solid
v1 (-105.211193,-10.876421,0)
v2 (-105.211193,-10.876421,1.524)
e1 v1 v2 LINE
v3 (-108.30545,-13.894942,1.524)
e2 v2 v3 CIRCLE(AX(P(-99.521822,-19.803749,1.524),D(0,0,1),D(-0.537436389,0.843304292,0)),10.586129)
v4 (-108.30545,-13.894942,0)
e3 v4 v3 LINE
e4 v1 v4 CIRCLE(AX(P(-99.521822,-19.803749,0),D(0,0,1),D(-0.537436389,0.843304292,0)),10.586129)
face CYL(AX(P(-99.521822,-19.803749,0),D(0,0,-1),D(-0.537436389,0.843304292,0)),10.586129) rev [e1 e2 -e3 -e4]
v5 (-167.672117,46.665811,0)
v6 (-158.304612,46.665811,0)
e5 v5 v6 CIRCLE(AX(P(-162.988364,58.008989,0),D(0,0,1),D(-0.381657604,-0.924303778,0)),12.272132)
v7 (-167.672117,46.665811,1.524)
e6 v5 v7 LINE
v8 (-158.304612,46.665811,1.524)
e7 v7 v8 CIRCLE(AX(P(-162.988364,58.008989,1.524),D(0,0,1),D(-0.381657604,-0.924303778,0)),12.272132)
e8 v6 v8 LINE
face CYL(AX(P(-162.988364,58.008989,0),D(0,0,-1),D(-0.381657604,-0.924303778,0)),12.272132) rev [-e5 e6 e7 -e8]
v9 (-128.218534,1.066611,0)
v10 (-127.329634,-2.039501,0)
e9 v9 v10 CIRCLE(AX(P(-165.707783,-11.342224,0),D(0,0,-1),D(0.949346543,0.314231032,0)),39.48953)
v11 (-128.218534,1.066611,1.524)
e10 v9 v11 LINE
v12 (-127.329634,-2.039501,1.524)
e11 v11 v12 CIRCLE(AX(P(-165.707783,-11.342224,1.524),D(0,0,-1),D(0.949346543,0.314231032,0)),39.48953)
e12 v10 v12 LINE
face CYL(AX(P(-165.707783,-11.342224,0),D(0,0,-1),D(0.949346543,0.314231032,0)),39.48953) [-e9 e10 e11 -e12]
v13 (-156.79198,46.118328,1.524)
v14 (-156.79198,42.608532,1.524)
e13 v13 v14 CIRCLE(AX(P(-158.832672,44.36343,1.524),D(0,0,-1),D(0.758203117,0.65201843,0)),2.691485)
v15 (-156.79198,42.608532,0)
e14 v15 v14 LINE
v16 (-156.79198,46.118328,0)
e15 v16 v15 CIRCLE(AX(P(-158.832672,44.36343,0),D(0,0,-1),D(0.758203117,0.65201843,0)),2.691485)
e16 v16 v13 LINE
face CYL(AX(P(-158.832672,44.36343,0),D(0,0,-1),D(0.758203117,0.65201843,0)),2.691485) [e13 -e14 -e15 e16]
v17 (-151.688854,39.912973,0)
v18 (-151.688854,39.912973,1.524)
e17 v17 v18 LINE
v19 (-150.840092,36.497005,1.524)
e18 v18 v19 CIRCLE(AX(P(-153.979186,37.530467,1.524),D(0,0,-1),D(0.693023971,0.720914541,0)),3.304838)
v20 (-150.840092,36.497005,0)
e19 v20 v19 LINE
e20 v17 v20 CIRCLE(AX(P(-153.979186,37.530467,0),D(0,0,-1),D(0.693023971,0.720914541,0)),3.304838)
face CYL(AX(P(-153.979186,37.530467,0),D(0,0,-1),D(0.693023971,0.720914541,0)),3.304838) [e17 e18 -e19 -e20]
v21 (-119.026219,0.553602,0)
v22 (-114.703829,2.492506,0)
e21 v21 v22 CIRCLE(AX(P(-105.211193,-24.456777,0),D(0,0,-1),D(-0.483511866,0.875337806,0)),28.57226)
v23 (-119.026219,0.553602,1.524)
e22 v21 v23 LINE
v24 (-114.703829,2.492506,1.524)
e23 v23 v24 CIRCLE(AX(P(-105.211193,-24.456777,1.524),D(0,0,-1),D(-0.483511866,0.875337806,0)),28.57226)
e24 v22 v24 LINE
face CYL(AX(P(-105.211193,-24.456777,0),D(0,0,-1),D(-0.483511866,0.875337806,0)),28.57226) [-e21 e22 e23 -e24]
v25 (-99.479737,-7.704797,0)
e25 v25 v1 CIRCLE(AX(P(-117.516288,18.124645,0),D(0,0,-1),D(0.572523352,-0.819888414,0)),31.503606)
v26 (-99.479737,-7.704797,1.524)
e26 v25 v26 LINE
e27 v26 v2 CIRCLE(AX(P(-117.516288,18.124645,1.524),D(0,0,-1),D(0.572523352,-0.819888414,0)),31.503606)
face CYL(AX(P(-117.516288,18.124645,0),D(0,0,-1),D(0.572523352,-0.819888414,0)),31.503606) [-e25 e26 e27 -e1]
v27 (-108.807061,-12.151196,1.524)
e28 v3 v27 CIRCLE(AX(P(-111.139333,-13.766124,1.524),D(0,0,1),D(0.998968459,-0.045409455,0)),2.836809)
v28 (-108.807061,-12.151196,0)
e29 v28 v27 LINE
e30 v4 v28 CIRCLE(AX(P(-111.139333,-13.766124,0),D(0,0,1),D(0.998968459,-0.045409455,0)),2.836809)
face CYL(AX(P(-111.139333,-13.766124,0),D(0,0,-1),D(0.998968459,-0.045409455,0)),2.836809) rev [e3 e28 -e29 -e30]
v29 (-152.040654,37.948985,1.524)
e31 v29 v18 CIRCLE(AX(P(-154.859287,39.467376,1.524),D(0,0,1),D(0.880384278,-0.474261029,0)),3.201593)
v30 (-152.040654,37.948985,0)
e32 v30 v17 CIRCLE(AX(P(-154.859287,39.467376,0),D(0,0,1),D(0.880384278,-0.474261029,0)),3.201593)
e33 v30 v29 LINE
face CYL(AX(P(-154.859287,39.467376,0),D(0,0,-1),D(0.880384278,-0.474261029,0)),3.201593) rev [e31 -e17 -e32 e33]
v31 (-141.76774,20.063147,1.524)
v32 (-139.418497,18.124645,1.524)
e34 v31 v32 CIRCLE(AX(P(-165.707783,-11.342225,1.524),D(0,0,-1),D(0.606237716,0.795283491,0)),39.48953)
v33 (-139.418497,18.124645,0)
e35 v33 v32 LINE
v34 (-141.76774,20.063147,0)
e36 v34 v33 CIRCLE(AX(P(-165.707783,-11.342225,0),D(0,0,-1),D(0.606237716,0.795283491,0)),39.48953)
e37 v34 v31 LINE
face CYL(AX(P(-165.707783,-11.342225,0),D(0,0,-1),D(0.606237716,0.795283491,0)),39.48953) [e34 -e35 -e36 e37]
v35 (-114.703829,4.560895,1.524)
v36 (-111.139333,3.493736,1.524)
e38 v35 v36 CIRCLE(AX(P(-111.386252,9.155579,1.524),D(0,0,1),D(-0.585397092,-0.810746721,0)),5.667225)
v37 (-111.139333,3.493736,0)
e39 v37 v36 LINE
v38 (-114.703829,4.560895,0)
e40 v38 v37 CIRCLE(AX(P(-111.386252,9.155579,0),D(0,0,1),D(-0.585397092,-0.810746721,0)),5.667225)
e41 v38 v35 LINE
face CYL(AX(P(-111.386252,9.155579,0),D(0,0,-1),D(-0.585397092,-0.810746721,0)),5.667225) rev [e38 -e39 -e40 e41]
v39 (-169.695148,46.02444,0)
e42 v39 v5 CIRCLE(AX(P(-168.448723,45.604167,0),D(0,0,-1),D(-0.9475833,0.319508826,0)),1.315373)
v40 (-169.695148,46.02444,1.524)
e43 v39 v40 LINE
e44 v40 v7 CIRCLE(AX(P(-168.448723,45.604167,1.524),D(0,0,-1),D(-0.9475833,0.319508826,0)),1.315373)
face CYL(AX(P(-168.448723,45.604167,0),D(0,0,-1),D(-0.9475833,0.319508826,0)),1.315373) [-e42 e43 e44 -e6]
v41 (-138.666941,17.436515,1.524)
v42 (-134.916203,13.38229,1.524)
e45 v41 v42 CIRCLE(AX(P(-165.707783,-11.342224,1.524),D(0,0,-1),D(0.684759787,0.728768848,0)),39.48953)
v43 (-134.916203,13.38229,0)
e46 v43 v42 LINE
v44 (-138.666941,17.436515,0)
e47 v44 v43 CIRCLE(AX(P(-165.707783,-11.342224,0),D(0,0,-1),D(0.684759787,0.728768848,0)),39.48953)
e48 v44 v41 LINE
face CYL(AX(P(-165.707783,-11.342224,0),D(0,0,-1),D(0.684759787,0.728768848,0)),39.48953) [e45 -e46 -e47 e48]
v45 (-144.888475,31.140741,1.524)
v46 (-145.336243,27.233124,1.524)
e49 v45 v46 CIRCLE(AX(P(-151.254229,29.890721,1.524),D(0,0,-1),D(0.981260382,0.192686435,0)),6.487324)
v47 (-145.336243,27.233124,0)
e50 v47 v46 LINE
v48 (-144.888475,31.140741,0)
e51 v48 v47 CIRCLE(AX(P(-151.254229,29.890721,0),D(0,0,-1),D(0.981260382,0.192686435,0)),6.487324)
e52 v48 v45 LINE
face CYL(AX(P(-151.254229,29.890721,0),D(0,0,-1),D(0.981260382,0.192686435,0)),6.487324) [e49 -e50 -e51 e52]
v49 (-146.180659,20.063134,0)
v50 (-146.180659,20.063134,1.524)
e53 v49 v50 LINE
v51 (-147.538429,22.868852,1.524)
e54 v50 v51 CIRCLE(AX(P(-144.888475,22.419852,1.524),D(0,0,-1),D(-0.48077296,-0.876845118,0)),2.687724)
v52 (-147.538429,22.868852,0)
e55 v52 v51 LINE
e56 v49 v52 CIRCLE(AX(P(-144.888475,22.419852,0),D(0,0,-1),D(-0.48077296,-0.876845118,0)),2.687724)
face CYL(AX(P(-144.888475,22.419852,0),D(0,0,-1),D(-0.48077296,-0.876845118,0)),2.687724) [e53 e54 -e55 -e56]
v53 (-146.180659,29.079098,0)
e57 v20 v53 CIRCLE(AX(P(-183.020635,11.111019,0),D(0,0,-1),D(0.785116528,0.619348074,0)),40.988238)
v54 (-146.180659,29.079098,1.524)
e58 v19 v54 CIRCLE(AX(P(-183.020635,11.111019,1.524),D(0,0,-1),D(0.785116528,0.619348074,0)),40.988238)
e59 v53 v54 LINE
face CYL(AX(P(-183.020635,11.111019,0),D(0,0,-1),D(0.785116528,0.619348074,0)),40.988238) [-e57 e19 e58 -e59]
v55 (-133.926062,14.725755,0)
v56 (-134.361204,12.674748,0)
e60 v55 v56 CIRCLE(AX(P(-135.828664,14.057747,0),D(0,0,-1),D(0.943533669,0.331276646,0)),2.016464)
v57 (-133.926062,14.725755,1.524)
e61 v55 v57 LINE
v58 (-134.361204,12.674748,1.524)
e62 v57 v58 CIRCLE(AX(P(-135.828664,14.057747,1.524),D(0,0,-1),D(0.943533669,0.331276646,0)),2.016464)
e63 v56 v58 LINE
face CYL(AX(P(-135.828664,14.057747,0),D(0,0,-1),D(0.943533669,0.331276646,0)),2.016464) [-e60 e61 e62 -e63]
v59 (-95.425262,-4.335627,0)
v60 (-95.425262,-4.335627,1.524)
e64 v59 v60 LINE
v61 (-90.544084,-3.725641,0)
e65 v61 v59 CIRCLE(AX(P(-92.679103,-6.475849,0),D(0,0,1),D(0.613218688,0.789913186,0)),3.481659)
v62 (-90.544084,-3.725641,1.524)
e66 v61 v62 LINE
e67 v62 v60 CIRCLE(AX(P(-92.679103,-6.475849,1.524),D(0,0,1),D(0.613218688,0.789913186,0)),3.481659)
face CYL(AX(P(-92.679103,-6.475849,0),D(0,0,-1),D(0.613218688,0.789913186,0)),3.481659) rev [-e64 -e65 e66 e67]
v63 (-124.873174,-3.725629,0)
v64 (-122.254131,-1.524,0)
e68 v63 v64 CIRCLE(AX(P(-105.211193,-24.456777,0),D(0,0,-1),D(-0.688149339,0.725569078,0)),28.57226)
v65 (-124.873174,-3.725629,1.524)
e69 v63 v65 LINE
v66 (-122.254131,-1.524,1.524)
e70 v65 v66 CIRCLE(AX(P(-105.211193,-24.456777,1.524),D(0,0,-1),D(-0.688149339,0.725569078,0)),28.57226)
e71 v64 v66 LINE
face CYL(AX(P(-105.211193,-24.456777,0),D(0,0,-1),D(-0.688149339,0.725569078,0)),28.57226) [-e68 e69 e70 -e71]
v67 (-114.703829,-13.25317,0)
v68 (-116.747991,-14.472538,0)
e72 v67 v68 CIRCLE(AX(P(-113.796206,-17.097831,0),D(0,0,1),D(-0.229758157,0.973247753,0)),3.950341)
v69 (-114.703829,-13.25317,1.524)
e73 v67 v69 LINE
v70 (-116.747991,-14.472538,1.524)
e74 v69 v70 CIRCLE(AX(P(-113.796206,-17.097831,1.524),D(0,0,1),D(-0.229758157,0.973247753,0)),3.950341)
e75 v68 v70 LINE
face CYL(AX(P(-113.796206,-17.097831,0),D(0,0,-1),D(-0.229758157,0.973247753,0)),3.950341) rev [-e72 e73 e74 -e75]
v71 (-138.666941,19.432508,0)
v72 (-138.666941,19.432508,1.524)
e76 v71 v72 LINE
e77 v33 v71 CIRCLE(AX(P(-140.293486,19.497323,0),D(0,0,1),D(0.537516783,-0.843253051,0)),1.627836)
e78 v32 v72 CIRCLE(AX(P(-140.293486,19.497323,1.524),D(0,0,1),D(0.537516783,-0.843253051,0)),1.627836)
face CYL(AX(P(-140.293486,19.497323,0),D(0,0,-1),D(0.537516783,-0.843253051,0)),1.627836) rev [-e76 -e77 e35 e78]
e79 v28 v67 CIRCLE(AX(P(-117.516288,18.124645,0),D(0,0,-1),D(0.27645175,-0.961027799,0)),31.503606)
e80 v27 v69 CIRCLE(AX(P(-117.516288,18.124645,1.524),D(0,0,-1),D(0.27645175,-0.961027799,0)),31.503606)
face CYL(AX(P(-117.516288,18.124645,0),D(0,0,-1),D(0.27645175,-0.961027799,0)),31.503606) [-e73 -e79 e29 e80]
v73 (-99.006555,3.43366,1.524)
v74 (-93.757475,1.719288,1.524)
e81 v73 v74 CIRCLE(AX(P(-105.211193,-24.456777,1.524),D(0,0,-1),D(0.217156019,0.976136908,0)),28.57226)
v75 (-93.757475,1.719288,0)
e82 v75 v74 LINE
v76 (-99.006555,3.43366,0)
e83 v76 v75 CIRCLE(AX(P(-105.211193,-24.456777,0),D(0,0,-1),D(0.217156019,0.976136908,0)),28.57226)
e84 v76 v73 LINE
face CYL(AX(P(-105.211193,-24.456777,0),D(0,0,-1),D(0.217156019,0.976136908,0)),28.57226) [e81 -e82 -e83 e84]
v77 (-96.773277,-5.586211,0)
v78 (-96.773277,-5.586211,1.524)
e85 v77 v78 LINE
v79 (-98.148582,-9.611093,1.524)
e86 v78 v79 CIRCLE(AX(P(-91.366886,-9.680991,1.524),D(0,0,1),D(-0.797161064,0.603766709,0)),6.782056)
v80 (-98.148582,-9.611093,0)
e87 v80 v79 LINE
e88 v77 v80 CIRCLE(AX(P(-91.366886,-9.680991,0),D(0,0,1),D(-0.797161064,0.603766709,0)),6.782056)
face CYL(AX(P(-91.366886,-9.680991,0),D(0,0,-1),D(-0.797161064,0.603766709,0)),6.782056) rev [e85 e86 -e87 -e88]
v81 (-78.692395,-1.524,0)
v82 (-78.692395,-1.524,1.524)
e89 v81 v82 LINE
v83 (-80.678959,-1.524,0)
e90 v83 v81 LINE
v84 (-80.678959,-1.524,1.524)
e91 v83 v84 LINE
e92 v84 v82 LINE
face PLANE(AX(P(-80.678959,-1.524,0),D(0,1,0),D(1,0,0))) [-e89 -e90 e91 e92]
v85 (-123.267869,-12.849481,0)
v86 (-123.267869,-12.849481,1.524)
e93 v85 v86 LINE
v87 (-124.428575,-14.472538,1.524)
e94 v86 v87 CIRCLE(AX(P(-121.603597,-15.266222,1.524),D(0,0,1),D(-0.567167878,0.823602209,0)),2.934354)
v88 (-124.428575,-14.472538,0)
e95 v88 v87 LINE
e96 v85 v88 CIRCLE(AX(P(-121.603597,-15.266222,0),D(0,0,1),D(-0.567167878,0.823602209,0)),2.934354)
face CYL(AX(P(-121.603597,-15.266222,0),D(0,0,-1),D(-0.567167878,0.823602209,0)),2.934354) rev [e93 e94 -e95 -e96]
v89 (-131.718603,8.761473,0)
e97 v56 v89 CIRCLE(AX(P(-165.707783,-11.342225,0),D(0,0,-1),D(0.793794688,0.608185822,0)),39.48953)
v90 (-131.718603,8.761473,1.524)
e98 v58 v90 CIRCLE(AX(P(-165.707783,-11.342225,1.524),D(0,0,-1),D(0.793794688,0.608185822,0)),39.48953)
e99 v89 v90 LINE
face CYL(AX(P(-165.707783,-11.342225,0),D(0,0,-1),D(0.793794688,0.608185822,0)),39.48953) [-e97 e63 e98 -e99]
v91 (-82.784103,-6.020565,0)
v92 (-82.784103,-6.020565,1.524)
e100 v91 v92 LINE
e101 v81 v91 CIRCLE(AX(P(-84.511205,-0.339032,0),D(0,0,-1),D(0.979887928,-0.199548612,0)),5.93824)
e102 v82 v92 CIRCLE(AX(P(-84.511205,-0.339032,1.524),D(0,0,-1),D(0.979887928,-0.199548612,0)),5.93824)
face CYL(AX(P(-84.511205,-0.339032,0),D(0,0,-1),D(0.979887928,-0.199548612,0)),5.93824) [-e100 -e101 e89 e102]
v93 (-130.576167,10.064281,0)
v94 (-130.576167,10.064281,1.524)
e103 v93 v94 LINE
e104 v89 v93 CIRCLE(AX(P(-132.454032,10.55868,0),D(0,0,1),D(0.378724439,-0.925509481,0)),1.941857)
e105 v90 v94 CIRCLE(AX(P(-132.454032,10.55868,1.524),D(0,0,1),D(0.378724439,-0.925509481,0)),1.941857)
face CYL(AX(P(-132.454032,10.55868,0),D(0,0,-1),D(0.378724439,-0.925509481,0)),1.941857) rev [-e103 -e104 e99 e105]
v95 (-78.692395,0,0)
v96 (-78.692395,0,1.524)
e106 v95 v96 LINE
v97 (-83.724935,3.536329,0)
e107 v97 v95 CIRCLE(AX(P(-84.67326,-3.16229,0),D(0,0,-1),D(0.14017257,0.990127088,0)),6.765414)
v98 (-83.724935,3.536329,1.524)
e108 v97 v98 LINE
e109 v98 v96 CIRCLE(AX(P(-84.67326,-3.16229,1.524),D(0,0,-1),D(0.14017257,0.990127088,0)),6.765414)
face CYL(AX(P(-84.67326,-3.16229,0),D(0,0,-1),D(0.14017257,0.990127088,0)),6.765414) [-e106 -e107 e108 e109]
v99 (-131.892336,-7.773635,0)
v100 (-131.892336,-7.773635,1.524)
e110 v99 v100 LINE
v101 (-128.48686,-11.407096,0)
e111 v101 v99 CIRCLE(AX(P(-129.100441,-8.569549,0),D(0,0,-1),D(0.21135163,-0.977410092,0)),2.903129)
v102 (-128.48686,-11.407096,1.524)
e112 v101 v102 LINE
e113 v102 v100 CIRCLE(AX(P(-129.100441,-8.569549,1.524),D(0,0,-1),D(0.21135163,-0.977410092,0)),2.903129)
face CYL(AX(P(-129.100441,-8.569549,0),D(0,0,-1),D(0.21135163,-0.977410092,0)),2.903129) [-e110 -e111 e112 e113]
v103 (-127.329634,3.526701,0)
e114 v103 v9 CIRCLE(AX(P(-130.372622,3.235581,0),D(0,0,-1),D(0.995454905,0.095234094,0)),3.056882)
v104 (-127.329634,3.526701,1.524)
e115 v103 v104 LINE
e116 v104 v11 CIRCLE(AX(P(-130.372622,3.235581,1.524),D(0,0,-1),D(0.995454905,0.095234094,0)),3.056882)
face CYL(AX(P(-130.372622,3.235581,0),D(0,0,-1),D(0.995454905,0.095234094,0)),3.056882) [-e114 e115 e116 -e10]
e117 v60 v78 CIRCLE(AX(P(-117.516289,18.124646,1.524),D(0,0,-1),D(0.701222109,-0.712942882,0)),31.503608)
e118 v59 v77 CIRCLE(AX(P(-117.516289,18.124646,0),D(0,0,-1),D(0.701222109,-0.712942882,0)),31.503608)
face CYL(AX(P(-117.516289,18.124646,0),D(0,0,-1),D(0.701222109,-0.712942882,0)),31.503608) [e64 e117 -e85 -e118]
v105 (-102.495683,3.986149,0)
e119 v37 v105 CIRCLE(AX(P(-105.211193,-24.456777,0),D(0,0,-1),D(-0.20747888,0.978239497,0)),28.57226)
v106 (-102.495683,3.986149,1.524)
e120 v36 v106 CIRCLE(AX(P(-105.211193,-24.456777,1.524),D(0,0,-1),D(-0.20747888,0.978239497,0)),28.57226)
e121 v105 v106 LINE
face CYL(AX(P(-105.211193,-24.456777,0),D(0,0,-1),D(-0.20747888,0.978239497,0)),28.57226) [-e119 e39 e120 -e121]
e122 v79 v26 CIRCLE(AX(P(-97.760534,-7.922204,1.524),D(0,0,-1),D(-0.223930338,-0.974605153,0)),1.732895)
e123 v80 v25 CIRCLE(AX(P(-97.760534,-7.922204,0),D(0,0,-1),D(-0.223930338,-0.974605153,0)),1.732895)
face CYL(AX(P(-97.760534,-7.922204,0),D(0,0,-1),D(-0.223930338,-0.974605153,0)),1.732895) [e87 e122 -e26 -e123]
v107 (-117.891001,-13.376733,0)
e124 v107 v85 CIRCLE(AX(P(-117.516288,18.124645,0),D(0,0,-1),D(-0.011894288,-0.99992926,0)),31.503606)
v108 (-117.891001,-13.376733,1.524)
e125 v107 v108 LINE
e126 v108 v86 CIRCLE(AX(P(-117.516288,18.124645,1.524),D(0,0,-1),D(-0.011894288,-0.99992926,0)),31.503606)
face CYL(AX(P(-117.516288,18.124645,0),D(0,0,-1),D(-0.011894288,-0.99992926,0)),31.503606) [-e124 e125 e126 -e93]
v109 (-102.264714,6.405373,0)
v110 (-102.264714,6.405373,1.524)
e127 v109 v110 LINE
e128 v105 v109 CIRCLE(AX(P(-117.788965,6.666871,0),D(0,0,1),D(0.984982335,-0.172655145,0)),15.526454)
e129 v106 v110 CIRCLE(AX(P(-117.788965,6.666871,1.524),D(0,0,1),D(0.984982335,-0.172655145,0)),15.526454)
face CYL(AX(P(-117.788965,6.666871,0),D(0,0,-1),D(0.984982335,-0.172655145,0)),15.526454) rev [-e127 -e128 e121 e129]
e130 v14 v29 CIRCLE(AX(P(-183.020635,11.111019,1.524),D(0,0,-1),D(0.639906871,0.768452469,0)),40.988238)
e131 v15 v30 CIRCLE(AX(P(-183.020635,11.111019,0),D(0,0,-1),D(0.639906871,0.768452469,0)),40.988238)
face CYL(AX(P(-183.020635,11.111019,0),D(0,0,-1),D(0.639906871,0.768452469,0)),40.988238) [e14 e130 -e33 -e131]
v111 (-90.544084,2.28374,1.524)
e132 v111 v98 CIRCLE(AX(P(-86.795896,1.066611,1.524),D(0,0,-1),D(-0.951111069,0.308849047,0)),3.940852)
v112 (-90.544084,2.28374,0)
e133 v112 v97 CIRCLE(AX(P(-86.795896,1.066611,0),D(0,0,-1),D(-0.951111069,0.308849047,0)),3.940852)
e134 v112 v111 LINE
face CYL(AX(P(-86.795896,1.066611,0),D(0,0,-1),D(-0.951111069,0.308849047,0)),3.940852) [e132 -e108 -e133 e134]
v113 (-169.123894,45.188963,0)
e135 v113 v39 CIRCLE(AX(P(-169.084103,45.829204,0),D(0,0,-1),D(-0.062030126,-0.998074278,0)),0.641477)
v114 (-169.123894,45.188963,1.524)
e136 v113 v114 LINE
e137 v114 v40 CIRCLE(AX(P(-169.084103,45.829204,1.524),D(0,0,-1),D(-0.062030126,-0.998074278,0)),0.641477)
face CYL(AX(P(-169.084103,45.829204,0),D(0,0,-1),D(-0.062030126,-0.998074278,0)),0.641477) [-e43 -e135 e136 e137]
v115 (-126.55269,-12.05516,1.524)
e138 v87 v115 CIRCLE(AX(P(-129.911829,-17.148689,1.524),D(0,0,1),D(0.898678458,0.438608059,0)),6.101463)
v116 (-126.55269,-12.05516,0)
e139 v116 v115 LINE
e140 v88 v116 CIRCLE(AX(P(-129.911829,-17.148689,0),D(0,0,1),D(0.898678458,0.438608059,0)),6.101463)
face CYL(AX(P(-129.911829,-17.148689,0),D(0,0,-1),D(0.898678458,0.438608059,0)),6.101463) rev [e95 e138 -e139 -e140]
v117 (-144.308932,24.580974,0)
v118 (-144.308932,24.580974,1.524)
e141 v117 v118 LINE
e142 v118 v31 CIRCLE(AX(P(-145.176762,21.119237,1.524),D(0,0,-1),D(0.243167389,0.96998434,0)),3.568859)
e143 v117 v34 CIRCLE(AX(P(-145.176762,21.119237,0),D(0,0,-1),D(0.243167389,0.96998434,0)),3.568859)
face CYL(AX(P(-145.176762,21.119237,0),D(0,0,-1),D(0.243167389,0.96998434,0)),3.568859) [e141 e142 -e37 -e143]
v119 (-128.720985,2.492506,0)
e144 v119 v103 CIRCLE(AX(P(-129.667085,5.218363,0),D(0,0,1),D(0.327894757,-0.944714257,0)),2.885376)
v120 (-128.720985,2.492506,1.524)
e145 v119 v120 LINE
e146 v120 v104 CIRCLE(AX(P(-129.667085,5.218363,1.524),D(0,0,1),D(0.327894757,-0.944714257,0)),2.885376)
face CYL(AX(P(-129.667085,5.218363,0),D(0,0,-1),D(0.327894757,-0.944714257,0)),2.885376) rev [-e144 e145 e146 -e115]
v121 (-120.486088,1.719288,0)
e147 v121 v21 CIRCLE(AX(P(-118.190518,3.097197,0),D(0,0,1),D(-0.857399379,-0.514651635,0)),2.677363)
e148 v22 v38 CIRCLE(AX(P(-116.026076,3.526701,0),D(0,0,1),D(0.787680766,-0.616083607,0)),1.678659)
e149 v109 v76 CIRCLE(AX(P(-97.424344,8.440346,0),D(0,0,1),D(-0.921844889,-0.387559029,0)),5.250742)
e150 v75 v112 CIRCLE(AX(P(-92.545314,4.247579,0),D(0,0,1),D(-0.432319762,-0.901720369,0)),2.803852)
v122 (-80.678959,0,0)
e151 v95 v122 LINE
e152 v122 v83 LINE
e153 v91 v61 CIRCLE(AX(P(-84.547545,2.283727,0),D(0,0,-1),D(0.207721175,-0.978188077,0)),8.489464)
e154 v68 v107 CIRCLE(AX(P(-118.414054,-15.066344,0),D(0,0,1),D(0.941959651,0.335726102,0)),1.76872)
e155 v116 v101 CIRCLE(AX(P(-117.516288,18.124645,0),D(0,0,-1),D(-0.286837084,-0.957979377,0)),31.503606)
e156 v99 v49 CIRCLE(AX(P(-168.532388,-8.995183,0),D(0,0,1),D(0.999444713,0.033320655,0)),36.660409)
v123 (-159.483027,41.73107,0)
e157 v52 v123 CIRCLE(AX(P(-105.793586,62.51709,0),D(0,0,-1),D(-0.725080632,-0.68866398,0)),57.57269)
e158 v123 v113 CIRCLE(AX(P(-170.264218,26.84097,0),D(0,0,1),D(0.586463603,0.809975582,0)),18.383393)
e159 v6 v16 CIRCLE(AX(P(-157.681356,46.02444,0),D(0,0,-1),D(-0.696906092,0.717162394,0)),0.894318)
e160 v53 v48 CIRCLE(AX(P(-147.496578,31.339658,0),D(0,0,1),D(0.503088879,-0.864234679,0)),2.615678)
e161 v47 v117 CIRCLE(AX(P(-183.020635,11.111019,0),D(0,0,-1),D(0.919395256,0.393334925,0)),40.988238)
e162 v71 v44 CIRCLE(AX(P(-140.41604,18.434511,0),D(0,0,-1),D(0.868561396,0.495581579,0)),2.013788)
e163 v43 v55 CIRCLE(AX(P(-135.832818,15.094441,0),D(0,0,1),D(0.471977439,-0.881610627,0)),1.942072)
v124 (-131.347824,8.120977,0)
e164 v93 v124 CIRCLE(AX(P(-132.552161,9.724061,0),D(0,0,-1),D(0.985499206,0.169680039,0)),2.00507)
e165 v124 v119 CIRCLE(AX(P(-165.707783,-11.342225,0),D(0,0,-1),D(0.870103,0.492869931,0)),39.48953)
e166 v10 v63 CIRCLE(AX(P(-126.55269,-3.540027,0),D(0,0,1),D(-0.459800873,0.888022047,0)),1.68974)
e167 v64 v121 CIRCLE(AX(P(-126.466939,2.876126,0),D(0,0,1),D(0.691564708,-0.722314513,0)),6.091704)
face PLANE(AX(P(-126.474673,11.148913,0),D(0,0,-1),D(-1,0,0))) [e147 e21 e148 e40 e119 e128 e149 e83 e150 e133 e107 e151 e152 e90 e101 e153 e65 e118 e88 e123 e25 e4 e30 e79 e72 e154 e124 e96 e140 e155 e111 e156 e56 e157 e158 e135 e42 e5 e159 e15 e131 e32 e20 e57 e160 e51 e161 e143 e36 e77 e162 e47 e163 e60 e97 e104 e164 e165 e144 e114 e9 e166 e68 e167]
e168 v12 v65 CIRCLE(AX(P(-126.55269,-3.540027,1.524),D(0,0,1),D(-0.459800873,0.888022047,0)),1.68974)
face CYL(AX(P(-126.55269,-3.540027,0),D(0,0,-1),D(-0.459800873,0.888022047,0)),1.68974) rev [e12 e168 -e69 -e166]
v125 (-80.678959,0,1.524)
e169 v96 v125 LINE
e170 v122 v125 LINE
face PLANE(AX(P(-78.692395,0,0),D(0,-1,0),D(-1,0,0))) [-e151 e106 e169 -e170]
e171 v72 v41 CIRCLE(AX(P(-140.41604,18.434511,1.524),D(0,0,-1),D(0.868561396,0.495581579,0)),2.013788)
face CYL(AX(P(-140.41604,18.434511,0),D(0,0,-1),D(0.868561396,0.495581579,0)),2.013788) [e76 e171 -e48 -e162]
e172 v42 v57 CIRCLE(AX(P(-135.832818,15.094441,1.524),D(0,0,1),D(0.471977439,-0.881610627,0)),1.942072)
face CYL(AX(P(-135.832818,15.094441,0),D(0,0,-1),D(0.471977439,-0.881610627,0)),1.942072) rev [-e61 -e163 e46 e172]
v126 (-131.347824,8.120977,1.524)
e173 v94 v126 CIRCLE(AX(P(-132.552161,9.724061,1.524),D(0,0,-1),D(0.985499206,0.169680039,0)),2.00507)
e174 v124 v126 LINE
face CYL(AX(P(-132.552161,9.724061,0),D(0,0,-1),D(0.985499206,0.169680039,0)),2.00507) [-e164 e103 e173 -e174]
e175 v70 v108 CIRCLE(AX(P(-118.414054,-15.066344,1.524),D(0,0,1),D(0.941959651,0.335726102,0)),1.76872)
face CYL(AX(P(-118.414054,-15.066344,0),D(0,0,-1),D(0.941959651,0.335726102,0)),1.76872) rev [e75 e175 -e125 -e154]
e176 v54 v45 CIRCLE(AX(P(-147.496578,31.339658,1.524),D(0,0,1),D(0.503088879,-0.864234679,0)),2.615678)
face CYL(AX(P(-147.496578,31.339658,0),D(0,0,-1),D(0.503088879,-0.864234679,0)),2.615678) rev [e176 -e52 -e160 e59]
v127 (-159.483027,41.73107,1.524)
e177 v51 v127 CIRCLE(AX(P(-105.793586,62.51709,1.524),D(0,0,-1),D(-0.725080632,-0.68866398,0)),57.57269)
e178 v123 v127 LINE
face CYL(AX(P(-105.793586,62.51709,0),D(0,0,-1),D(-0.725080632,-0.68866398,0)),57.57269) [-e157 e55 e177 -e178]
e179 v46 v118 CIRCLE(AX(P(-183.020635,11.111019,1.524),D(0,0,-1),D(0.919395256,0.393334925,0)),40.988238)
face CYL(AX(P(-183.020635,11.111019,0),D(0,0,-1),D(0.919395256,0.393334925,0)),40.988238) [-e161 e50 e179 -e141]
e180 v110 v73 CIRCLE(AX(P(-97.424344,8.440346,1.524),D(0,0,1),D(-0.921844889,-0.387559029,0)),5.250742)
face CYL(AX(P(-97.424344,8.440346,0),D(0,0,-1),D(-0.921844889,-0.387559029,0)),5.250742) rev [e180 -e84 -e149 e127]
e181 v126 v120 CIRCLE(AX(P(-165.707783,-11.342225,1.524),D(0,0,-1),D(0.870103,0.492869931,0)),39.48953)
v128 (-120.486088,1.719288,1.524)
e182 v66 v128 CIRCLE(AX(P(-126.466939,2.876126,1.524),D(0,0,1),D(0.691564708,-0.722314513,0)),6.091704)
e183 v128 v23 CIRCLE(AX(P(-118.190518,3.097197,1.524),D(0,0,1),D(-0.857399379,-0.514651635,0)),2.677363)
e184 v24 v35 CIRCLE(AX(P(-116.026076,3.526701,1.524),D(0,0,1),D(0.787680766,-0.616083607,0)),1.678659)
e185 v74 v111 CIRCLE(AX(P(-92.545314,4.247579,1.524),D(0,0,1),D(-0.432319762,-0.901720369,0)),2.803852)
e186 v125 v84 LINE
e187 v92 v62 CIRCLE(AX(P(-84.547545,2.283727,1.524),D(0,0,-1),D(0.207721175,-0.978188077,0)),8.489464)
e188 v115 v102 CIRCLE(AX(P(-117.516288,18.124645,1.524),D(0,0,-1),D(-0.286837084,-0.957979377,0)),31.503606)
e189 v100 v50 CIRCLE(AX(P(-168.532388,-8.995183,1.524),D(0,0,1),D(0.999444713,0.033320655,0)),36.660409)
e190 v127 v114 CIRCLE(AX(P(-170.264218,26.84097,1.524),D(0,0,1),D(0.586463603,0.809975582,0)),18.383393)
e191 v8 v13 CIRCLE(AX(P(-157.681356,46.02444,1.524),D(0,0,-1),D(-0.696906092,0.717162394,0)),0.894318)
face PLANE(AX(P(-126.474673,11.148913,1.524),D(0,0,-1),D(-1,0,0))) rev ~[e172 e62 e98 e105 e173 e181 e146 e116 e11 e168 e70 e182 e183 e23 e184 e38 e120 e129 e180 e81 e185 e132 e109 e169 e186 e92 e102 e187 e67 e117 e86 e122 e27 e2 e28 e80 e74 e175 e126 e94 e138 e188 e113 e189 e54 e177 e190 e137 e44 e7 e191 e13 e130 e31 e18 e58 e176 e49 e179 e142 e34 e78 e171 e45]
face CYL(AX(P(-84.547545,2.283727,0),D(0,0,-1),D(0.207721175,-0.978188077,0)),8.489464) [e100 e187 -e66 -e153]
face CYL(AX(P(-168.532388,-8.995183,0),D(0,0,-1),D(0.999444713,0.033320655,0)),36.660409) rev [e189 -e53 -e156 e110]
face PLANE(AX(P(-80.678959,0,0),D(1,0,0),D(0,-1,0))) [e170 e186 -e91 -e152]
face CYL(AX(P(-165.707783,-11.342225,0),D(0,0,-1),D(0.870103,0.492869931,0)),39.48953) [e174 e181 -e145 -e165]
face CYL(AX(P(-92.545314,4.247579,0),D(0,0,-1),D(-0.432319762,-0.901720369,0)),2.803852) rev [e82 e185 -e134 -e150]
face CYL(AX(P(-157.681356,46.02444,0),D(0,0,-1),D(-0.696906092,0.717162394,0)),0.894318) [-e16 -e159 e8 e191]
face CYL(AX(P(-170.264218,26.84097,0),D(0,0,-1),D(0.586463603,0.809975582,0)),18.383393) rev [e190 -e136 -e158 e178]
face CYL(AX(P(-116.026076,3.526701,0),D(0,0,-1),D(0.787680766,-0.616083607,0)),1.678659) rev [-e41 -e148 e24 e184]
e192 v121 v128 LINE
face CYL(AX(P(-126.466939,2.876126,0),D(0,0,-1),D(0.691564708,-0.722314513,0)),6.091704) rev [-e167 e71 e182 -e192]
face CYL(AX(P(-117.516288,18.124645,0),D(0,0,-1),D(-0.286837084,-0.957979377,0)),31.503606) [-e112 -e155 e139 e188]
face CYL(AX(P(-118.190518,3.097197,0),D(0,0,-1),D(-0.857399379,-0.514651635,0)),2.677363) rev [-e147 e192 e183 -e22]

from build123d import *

# Parameters (mm, degrees)
BOSS_EXTRUDE1_DEPTH = 1.524


with BuildPart() as part:
    # Sketch1 → Boss-Extrude1 (new body)
    with BuildSketch(Plane.XY):
        with BuildLine():
            Line((-80.678958716, -0.762), (-80.678958716, -1.524))
            Line((-80.678958716, -1.524), (-78.692395213, -1.524))
            ThreePointArc((-78.692395213, -1.524), (-80.119170164, -4.335621645), (-82.784103237, -6.02056519))
            ThreePointArc((-82.784103237, -6.02056519), (-86.955126255, -5.857190971), (-90.544084344, -3.725641304))
            ThreePointArc((-90.544084344, -3.725641304), (-93.110836317, -3.021062409), (-95.425262377, -4.335626641))
            ThreePointArc((-95.425262377, -4.335626641), (-96.090143572, -4.970756046), (-96.773276943, -5.586211293))
            ThreePointArc((-96.773276943, -5.586211293), (-97.784617842, -7.488047423), (-98.148581764, -9.611092724))
            ThreePointArc((-98.148581764, -9.611092724), (-99.181314776, -8.914327019), (-99.479737369, -7.704796582))
            ThreePointArc((-99.479737369, -7.704796582), (-102.262807493, -9.439979809), (-105.21119287, -10.876421181))
            ThreePointArc((-105.21119287, -10.876421181), (-106.91403356, -12.226062588), (-108.305450104, -13.894941956))
            ThreePointArc((-108.305450104, -13.894941956), (-108.413080528, -12.98188304), (-108.807060537, -12.151196188))
            ThreePointArc((-108.807060537, -12.151196188), (-111.729155507, -12.842858899), (-114.703828793, -13.253169951))
            ThreePointArc((-114.703828793, -13.253169951), (-115.819933123, -13.705232404), (-116.747990814, -14.472538249))
            ThreePointArc((-116.747990814, -14.472538249), (-117.190021542, -13.789583851), (-117.891000612, -13.376732524))
            ThreePointArc((-117.891000612, -13.376732524), (-120.590758029, -13.228581749), (-123.267868738, -12.849481471))
            ThreePointArc((-123.267868738, -12.849481471), (-123.990419129, -13.559319569), (-124.428575307, -14.472538249))
            ThreePointArc((-124.428575307, -14.472538249), (-125.32839078, -13.121289449), (-126.552690184, -12.05515992))
            ThreePointArc((-126.552690184, -12.05515992), (-127.525021572, -11.746786856), (-128.486859712, -11.407096306))
            ThreePointArc((-128.486859712, -11.407096306), (-131.218641373, -10.554840596), (-131.89233577, -7.773634616))
            ThreePointArc((-131.89233577, -7.773634616), (-135.917529766, 7.745683618), (-146.180659468, 20.063134404))
            ThreePointArc((-146.180659468, 20.063134404), (-147.307798591, 21.249069948), (-147.538428831, 22.868852467))
            ThreePointArc((-147.538428831, 22.868852467), (-154.433810452, 31.715414423), (-159.483026723, 41.731070227))
            ThreePointArc((-159.483026723, 41.731070227), (-164.057778752, 44.14499505), (-169.123893732, 45.188962572))
            ThreePointArc((-169.123893732, 45.188962572), (-169.613633215, 45.467140142), (-169.695148012, 46.024439755))
            ThreePointArc((-169.695148012, 46.024439755), (-168.84624225, 46.858034119), (-167.67211669, 46.665811009))
            ThreePointArc((-167.67211669, 46.665811009), (-162.988364111, 45.736856959), (-158.304611532, 46.665811009))
            ThreePointArc((-158.304611532, 46.665811009), (-157.376988383, 46.865370886), (-156.791979775, 46.118327526))
            ThreePointArc((-156.791979775, 46.118327526), (-156.141187023, 44.363429515), (-156.791979775, 42.608531504))
            ThreePointArc((-156.791979775, 42.608531504), (-154.321595691, 40.375345287), (-152.040654012, 37.948985202))
            ThreePointArc((-152.040654012, 37.948985202), (-151.707852276, 38.902874077), (-151.688853759, 39.9129731))
            ThreePointArc((-151.688853759, 39.9129731), (-150.771869741, 38.327385628), (-150.840091724, 36.497005044))
            ThreePointArc((-150.840091724, 36.497005044), (-148.311639905, 32.912883943), (-146.180659468, 29.07909795))
            ThreePointArc((-146.180659468, 29.07909795), (-145.280256751, 29.950524174), (-144.888474533, 31.140740714))
            ThreePointArc((-144.888474533, 31.140740714), (-144.809080792, 29.152180218), (-145.336243225, 27.233124206))
            ThreePointArc((-145.336243225, 27.233124206), (-144.799576526, 25.915962426), (-144.308931698, 24.580974055))
            ThreePointArc((-144.308931698, 24.580974055), (-142.066206257, 22.868864738), (-141.767740402, 20.063146675))
            ThreePointArc((-141.767740402, 20.063146675), (-140.574422381, 19.11655359), (-139.418496756, 18.124645168))
            ThreePointArc((-139.418496756, 18.124645168), (-138.882087848, 18.686270696), (-138.666940721, 19.432507564))
            ThreePointArc((-138.666940721, 19.432507564), (-138.402251182, 18.434511119), (-138.666940721, 17.436514673))
            ThreePointArc((-138.666940721, 17.436514673), (-136.72060571, 15.475055994), (-134.91620317, 13.382289501))
            ThreePointArc((-134.91620317, 13.382289501), (-134.269462496, 13.942240539), (-133.926062208, 14.725754998))
            ThreePointArc((-133.926062208, 14.725754998), (-133.856105481, 13.639249521), (-134.361203786, 12.674747683))
            ThreePointArc((-134.361203786, 12.674747683), (-132.981359798, 10.757644416), (-131.718603375, 8.761472935))
            ThreePointArc((-131.718603375, 8.761472935), (-130.994013595, 9.278385285), (-130.576166715, 10.064281405))
            ThreePointArc((-130.576166715, 10.064281405), (-130.688633828, 8.984081435), (-131.3478244, 8.120977377))
            ThreePointArc((-131.3478244, 8.120977377), (-129.923570985, 5.358468693), (-128.720985312, 2.492506426))
            ThreePointArc((-128.720985312, 2.492506426), (-127.945801885, 2.902637911), (-127.329634113, 3.526700773))
            ThreePointArc((-127.329634113, 3.526700773), (-127.497659552, 2.19677598), (-128.218534166, 1.066611259))
            ThreePointArc((-128.218534166, 1.066611259), (-127.742305365, -0.477350315), (-127.329634113, -2.039500643))
            ThreePointArc((-127.329634113, -2.039500643), (-127.508941307, -4.933154821), (-124.873174428, -3.725629032))
            ThreePointArc((-124.873174428, -3.725629032), (-123.596637716, -2.585576016), (-122.254131396, -1.524))
            ThreePointArc((-122.254131396, -1.524), (-121.118350406, -0.039599921), (-120.48608758, 1.71928773))
            ThreePointArc((-120.48608758, 1.71928773), (-119.861122825, 1.004984574), (-119.026219436, 0.55360195))
            ThreePointArc((-119.026219436, 0.55360195), (-116.905277713, 1.612791346), (-114.703828793, 2.492506426))
            ThreePointArc((-114.703828793, 2.492506426), (-114.347417181, 3.526700773), (-114.703828793, 4.560895121))
            ThreePointArc((-114.703828793, 4.560895121), (-113.011657325, 3.726445198), (-111.139333293, 3.493735784))
            ThreePointArc((-111.139333293, 3.493735784), (-106.83626692, 4.069231273), (-102.495682566, 3.986148614))
            ThreePointArc((-102.495682566, 3.986148614), (-102.332792834, 5.191235076), (-102.264713723, 6.405373321))
            ThreePointArc((-102.264713723, 6.405373321), (-100.962727059, 4.560895121), (-99.006554721, 3.433660057))
            ThreePointArc((-99.006554721, 3.433660057), (-96.34050231, 2.703577616), (-93.757475163, 1.71928773))
            ThreePointArc((-93.757475163, 1.71928773), (-92.060227448, 1.486006715), (-90.544083581, 2.283739511))
            ThreePointArc((-90.544083581, 2.283739511), (-87.507868111, 4.942615236), (-83.724934757, 3.536329442))
            ThreePointArc((-83.724934757, 3.536329442), (-80.783552437, 2.373141079), (-78.692395213, 0))
            Line((-78.692395213, 0), (-80.678958716, 0))
            Line((-80.678958716, 0), (-80.678958716, -0.762))
        make_face()
    extrude(amount=BOSS_EXTRUDE1_DEPTH)


solid = part.part
